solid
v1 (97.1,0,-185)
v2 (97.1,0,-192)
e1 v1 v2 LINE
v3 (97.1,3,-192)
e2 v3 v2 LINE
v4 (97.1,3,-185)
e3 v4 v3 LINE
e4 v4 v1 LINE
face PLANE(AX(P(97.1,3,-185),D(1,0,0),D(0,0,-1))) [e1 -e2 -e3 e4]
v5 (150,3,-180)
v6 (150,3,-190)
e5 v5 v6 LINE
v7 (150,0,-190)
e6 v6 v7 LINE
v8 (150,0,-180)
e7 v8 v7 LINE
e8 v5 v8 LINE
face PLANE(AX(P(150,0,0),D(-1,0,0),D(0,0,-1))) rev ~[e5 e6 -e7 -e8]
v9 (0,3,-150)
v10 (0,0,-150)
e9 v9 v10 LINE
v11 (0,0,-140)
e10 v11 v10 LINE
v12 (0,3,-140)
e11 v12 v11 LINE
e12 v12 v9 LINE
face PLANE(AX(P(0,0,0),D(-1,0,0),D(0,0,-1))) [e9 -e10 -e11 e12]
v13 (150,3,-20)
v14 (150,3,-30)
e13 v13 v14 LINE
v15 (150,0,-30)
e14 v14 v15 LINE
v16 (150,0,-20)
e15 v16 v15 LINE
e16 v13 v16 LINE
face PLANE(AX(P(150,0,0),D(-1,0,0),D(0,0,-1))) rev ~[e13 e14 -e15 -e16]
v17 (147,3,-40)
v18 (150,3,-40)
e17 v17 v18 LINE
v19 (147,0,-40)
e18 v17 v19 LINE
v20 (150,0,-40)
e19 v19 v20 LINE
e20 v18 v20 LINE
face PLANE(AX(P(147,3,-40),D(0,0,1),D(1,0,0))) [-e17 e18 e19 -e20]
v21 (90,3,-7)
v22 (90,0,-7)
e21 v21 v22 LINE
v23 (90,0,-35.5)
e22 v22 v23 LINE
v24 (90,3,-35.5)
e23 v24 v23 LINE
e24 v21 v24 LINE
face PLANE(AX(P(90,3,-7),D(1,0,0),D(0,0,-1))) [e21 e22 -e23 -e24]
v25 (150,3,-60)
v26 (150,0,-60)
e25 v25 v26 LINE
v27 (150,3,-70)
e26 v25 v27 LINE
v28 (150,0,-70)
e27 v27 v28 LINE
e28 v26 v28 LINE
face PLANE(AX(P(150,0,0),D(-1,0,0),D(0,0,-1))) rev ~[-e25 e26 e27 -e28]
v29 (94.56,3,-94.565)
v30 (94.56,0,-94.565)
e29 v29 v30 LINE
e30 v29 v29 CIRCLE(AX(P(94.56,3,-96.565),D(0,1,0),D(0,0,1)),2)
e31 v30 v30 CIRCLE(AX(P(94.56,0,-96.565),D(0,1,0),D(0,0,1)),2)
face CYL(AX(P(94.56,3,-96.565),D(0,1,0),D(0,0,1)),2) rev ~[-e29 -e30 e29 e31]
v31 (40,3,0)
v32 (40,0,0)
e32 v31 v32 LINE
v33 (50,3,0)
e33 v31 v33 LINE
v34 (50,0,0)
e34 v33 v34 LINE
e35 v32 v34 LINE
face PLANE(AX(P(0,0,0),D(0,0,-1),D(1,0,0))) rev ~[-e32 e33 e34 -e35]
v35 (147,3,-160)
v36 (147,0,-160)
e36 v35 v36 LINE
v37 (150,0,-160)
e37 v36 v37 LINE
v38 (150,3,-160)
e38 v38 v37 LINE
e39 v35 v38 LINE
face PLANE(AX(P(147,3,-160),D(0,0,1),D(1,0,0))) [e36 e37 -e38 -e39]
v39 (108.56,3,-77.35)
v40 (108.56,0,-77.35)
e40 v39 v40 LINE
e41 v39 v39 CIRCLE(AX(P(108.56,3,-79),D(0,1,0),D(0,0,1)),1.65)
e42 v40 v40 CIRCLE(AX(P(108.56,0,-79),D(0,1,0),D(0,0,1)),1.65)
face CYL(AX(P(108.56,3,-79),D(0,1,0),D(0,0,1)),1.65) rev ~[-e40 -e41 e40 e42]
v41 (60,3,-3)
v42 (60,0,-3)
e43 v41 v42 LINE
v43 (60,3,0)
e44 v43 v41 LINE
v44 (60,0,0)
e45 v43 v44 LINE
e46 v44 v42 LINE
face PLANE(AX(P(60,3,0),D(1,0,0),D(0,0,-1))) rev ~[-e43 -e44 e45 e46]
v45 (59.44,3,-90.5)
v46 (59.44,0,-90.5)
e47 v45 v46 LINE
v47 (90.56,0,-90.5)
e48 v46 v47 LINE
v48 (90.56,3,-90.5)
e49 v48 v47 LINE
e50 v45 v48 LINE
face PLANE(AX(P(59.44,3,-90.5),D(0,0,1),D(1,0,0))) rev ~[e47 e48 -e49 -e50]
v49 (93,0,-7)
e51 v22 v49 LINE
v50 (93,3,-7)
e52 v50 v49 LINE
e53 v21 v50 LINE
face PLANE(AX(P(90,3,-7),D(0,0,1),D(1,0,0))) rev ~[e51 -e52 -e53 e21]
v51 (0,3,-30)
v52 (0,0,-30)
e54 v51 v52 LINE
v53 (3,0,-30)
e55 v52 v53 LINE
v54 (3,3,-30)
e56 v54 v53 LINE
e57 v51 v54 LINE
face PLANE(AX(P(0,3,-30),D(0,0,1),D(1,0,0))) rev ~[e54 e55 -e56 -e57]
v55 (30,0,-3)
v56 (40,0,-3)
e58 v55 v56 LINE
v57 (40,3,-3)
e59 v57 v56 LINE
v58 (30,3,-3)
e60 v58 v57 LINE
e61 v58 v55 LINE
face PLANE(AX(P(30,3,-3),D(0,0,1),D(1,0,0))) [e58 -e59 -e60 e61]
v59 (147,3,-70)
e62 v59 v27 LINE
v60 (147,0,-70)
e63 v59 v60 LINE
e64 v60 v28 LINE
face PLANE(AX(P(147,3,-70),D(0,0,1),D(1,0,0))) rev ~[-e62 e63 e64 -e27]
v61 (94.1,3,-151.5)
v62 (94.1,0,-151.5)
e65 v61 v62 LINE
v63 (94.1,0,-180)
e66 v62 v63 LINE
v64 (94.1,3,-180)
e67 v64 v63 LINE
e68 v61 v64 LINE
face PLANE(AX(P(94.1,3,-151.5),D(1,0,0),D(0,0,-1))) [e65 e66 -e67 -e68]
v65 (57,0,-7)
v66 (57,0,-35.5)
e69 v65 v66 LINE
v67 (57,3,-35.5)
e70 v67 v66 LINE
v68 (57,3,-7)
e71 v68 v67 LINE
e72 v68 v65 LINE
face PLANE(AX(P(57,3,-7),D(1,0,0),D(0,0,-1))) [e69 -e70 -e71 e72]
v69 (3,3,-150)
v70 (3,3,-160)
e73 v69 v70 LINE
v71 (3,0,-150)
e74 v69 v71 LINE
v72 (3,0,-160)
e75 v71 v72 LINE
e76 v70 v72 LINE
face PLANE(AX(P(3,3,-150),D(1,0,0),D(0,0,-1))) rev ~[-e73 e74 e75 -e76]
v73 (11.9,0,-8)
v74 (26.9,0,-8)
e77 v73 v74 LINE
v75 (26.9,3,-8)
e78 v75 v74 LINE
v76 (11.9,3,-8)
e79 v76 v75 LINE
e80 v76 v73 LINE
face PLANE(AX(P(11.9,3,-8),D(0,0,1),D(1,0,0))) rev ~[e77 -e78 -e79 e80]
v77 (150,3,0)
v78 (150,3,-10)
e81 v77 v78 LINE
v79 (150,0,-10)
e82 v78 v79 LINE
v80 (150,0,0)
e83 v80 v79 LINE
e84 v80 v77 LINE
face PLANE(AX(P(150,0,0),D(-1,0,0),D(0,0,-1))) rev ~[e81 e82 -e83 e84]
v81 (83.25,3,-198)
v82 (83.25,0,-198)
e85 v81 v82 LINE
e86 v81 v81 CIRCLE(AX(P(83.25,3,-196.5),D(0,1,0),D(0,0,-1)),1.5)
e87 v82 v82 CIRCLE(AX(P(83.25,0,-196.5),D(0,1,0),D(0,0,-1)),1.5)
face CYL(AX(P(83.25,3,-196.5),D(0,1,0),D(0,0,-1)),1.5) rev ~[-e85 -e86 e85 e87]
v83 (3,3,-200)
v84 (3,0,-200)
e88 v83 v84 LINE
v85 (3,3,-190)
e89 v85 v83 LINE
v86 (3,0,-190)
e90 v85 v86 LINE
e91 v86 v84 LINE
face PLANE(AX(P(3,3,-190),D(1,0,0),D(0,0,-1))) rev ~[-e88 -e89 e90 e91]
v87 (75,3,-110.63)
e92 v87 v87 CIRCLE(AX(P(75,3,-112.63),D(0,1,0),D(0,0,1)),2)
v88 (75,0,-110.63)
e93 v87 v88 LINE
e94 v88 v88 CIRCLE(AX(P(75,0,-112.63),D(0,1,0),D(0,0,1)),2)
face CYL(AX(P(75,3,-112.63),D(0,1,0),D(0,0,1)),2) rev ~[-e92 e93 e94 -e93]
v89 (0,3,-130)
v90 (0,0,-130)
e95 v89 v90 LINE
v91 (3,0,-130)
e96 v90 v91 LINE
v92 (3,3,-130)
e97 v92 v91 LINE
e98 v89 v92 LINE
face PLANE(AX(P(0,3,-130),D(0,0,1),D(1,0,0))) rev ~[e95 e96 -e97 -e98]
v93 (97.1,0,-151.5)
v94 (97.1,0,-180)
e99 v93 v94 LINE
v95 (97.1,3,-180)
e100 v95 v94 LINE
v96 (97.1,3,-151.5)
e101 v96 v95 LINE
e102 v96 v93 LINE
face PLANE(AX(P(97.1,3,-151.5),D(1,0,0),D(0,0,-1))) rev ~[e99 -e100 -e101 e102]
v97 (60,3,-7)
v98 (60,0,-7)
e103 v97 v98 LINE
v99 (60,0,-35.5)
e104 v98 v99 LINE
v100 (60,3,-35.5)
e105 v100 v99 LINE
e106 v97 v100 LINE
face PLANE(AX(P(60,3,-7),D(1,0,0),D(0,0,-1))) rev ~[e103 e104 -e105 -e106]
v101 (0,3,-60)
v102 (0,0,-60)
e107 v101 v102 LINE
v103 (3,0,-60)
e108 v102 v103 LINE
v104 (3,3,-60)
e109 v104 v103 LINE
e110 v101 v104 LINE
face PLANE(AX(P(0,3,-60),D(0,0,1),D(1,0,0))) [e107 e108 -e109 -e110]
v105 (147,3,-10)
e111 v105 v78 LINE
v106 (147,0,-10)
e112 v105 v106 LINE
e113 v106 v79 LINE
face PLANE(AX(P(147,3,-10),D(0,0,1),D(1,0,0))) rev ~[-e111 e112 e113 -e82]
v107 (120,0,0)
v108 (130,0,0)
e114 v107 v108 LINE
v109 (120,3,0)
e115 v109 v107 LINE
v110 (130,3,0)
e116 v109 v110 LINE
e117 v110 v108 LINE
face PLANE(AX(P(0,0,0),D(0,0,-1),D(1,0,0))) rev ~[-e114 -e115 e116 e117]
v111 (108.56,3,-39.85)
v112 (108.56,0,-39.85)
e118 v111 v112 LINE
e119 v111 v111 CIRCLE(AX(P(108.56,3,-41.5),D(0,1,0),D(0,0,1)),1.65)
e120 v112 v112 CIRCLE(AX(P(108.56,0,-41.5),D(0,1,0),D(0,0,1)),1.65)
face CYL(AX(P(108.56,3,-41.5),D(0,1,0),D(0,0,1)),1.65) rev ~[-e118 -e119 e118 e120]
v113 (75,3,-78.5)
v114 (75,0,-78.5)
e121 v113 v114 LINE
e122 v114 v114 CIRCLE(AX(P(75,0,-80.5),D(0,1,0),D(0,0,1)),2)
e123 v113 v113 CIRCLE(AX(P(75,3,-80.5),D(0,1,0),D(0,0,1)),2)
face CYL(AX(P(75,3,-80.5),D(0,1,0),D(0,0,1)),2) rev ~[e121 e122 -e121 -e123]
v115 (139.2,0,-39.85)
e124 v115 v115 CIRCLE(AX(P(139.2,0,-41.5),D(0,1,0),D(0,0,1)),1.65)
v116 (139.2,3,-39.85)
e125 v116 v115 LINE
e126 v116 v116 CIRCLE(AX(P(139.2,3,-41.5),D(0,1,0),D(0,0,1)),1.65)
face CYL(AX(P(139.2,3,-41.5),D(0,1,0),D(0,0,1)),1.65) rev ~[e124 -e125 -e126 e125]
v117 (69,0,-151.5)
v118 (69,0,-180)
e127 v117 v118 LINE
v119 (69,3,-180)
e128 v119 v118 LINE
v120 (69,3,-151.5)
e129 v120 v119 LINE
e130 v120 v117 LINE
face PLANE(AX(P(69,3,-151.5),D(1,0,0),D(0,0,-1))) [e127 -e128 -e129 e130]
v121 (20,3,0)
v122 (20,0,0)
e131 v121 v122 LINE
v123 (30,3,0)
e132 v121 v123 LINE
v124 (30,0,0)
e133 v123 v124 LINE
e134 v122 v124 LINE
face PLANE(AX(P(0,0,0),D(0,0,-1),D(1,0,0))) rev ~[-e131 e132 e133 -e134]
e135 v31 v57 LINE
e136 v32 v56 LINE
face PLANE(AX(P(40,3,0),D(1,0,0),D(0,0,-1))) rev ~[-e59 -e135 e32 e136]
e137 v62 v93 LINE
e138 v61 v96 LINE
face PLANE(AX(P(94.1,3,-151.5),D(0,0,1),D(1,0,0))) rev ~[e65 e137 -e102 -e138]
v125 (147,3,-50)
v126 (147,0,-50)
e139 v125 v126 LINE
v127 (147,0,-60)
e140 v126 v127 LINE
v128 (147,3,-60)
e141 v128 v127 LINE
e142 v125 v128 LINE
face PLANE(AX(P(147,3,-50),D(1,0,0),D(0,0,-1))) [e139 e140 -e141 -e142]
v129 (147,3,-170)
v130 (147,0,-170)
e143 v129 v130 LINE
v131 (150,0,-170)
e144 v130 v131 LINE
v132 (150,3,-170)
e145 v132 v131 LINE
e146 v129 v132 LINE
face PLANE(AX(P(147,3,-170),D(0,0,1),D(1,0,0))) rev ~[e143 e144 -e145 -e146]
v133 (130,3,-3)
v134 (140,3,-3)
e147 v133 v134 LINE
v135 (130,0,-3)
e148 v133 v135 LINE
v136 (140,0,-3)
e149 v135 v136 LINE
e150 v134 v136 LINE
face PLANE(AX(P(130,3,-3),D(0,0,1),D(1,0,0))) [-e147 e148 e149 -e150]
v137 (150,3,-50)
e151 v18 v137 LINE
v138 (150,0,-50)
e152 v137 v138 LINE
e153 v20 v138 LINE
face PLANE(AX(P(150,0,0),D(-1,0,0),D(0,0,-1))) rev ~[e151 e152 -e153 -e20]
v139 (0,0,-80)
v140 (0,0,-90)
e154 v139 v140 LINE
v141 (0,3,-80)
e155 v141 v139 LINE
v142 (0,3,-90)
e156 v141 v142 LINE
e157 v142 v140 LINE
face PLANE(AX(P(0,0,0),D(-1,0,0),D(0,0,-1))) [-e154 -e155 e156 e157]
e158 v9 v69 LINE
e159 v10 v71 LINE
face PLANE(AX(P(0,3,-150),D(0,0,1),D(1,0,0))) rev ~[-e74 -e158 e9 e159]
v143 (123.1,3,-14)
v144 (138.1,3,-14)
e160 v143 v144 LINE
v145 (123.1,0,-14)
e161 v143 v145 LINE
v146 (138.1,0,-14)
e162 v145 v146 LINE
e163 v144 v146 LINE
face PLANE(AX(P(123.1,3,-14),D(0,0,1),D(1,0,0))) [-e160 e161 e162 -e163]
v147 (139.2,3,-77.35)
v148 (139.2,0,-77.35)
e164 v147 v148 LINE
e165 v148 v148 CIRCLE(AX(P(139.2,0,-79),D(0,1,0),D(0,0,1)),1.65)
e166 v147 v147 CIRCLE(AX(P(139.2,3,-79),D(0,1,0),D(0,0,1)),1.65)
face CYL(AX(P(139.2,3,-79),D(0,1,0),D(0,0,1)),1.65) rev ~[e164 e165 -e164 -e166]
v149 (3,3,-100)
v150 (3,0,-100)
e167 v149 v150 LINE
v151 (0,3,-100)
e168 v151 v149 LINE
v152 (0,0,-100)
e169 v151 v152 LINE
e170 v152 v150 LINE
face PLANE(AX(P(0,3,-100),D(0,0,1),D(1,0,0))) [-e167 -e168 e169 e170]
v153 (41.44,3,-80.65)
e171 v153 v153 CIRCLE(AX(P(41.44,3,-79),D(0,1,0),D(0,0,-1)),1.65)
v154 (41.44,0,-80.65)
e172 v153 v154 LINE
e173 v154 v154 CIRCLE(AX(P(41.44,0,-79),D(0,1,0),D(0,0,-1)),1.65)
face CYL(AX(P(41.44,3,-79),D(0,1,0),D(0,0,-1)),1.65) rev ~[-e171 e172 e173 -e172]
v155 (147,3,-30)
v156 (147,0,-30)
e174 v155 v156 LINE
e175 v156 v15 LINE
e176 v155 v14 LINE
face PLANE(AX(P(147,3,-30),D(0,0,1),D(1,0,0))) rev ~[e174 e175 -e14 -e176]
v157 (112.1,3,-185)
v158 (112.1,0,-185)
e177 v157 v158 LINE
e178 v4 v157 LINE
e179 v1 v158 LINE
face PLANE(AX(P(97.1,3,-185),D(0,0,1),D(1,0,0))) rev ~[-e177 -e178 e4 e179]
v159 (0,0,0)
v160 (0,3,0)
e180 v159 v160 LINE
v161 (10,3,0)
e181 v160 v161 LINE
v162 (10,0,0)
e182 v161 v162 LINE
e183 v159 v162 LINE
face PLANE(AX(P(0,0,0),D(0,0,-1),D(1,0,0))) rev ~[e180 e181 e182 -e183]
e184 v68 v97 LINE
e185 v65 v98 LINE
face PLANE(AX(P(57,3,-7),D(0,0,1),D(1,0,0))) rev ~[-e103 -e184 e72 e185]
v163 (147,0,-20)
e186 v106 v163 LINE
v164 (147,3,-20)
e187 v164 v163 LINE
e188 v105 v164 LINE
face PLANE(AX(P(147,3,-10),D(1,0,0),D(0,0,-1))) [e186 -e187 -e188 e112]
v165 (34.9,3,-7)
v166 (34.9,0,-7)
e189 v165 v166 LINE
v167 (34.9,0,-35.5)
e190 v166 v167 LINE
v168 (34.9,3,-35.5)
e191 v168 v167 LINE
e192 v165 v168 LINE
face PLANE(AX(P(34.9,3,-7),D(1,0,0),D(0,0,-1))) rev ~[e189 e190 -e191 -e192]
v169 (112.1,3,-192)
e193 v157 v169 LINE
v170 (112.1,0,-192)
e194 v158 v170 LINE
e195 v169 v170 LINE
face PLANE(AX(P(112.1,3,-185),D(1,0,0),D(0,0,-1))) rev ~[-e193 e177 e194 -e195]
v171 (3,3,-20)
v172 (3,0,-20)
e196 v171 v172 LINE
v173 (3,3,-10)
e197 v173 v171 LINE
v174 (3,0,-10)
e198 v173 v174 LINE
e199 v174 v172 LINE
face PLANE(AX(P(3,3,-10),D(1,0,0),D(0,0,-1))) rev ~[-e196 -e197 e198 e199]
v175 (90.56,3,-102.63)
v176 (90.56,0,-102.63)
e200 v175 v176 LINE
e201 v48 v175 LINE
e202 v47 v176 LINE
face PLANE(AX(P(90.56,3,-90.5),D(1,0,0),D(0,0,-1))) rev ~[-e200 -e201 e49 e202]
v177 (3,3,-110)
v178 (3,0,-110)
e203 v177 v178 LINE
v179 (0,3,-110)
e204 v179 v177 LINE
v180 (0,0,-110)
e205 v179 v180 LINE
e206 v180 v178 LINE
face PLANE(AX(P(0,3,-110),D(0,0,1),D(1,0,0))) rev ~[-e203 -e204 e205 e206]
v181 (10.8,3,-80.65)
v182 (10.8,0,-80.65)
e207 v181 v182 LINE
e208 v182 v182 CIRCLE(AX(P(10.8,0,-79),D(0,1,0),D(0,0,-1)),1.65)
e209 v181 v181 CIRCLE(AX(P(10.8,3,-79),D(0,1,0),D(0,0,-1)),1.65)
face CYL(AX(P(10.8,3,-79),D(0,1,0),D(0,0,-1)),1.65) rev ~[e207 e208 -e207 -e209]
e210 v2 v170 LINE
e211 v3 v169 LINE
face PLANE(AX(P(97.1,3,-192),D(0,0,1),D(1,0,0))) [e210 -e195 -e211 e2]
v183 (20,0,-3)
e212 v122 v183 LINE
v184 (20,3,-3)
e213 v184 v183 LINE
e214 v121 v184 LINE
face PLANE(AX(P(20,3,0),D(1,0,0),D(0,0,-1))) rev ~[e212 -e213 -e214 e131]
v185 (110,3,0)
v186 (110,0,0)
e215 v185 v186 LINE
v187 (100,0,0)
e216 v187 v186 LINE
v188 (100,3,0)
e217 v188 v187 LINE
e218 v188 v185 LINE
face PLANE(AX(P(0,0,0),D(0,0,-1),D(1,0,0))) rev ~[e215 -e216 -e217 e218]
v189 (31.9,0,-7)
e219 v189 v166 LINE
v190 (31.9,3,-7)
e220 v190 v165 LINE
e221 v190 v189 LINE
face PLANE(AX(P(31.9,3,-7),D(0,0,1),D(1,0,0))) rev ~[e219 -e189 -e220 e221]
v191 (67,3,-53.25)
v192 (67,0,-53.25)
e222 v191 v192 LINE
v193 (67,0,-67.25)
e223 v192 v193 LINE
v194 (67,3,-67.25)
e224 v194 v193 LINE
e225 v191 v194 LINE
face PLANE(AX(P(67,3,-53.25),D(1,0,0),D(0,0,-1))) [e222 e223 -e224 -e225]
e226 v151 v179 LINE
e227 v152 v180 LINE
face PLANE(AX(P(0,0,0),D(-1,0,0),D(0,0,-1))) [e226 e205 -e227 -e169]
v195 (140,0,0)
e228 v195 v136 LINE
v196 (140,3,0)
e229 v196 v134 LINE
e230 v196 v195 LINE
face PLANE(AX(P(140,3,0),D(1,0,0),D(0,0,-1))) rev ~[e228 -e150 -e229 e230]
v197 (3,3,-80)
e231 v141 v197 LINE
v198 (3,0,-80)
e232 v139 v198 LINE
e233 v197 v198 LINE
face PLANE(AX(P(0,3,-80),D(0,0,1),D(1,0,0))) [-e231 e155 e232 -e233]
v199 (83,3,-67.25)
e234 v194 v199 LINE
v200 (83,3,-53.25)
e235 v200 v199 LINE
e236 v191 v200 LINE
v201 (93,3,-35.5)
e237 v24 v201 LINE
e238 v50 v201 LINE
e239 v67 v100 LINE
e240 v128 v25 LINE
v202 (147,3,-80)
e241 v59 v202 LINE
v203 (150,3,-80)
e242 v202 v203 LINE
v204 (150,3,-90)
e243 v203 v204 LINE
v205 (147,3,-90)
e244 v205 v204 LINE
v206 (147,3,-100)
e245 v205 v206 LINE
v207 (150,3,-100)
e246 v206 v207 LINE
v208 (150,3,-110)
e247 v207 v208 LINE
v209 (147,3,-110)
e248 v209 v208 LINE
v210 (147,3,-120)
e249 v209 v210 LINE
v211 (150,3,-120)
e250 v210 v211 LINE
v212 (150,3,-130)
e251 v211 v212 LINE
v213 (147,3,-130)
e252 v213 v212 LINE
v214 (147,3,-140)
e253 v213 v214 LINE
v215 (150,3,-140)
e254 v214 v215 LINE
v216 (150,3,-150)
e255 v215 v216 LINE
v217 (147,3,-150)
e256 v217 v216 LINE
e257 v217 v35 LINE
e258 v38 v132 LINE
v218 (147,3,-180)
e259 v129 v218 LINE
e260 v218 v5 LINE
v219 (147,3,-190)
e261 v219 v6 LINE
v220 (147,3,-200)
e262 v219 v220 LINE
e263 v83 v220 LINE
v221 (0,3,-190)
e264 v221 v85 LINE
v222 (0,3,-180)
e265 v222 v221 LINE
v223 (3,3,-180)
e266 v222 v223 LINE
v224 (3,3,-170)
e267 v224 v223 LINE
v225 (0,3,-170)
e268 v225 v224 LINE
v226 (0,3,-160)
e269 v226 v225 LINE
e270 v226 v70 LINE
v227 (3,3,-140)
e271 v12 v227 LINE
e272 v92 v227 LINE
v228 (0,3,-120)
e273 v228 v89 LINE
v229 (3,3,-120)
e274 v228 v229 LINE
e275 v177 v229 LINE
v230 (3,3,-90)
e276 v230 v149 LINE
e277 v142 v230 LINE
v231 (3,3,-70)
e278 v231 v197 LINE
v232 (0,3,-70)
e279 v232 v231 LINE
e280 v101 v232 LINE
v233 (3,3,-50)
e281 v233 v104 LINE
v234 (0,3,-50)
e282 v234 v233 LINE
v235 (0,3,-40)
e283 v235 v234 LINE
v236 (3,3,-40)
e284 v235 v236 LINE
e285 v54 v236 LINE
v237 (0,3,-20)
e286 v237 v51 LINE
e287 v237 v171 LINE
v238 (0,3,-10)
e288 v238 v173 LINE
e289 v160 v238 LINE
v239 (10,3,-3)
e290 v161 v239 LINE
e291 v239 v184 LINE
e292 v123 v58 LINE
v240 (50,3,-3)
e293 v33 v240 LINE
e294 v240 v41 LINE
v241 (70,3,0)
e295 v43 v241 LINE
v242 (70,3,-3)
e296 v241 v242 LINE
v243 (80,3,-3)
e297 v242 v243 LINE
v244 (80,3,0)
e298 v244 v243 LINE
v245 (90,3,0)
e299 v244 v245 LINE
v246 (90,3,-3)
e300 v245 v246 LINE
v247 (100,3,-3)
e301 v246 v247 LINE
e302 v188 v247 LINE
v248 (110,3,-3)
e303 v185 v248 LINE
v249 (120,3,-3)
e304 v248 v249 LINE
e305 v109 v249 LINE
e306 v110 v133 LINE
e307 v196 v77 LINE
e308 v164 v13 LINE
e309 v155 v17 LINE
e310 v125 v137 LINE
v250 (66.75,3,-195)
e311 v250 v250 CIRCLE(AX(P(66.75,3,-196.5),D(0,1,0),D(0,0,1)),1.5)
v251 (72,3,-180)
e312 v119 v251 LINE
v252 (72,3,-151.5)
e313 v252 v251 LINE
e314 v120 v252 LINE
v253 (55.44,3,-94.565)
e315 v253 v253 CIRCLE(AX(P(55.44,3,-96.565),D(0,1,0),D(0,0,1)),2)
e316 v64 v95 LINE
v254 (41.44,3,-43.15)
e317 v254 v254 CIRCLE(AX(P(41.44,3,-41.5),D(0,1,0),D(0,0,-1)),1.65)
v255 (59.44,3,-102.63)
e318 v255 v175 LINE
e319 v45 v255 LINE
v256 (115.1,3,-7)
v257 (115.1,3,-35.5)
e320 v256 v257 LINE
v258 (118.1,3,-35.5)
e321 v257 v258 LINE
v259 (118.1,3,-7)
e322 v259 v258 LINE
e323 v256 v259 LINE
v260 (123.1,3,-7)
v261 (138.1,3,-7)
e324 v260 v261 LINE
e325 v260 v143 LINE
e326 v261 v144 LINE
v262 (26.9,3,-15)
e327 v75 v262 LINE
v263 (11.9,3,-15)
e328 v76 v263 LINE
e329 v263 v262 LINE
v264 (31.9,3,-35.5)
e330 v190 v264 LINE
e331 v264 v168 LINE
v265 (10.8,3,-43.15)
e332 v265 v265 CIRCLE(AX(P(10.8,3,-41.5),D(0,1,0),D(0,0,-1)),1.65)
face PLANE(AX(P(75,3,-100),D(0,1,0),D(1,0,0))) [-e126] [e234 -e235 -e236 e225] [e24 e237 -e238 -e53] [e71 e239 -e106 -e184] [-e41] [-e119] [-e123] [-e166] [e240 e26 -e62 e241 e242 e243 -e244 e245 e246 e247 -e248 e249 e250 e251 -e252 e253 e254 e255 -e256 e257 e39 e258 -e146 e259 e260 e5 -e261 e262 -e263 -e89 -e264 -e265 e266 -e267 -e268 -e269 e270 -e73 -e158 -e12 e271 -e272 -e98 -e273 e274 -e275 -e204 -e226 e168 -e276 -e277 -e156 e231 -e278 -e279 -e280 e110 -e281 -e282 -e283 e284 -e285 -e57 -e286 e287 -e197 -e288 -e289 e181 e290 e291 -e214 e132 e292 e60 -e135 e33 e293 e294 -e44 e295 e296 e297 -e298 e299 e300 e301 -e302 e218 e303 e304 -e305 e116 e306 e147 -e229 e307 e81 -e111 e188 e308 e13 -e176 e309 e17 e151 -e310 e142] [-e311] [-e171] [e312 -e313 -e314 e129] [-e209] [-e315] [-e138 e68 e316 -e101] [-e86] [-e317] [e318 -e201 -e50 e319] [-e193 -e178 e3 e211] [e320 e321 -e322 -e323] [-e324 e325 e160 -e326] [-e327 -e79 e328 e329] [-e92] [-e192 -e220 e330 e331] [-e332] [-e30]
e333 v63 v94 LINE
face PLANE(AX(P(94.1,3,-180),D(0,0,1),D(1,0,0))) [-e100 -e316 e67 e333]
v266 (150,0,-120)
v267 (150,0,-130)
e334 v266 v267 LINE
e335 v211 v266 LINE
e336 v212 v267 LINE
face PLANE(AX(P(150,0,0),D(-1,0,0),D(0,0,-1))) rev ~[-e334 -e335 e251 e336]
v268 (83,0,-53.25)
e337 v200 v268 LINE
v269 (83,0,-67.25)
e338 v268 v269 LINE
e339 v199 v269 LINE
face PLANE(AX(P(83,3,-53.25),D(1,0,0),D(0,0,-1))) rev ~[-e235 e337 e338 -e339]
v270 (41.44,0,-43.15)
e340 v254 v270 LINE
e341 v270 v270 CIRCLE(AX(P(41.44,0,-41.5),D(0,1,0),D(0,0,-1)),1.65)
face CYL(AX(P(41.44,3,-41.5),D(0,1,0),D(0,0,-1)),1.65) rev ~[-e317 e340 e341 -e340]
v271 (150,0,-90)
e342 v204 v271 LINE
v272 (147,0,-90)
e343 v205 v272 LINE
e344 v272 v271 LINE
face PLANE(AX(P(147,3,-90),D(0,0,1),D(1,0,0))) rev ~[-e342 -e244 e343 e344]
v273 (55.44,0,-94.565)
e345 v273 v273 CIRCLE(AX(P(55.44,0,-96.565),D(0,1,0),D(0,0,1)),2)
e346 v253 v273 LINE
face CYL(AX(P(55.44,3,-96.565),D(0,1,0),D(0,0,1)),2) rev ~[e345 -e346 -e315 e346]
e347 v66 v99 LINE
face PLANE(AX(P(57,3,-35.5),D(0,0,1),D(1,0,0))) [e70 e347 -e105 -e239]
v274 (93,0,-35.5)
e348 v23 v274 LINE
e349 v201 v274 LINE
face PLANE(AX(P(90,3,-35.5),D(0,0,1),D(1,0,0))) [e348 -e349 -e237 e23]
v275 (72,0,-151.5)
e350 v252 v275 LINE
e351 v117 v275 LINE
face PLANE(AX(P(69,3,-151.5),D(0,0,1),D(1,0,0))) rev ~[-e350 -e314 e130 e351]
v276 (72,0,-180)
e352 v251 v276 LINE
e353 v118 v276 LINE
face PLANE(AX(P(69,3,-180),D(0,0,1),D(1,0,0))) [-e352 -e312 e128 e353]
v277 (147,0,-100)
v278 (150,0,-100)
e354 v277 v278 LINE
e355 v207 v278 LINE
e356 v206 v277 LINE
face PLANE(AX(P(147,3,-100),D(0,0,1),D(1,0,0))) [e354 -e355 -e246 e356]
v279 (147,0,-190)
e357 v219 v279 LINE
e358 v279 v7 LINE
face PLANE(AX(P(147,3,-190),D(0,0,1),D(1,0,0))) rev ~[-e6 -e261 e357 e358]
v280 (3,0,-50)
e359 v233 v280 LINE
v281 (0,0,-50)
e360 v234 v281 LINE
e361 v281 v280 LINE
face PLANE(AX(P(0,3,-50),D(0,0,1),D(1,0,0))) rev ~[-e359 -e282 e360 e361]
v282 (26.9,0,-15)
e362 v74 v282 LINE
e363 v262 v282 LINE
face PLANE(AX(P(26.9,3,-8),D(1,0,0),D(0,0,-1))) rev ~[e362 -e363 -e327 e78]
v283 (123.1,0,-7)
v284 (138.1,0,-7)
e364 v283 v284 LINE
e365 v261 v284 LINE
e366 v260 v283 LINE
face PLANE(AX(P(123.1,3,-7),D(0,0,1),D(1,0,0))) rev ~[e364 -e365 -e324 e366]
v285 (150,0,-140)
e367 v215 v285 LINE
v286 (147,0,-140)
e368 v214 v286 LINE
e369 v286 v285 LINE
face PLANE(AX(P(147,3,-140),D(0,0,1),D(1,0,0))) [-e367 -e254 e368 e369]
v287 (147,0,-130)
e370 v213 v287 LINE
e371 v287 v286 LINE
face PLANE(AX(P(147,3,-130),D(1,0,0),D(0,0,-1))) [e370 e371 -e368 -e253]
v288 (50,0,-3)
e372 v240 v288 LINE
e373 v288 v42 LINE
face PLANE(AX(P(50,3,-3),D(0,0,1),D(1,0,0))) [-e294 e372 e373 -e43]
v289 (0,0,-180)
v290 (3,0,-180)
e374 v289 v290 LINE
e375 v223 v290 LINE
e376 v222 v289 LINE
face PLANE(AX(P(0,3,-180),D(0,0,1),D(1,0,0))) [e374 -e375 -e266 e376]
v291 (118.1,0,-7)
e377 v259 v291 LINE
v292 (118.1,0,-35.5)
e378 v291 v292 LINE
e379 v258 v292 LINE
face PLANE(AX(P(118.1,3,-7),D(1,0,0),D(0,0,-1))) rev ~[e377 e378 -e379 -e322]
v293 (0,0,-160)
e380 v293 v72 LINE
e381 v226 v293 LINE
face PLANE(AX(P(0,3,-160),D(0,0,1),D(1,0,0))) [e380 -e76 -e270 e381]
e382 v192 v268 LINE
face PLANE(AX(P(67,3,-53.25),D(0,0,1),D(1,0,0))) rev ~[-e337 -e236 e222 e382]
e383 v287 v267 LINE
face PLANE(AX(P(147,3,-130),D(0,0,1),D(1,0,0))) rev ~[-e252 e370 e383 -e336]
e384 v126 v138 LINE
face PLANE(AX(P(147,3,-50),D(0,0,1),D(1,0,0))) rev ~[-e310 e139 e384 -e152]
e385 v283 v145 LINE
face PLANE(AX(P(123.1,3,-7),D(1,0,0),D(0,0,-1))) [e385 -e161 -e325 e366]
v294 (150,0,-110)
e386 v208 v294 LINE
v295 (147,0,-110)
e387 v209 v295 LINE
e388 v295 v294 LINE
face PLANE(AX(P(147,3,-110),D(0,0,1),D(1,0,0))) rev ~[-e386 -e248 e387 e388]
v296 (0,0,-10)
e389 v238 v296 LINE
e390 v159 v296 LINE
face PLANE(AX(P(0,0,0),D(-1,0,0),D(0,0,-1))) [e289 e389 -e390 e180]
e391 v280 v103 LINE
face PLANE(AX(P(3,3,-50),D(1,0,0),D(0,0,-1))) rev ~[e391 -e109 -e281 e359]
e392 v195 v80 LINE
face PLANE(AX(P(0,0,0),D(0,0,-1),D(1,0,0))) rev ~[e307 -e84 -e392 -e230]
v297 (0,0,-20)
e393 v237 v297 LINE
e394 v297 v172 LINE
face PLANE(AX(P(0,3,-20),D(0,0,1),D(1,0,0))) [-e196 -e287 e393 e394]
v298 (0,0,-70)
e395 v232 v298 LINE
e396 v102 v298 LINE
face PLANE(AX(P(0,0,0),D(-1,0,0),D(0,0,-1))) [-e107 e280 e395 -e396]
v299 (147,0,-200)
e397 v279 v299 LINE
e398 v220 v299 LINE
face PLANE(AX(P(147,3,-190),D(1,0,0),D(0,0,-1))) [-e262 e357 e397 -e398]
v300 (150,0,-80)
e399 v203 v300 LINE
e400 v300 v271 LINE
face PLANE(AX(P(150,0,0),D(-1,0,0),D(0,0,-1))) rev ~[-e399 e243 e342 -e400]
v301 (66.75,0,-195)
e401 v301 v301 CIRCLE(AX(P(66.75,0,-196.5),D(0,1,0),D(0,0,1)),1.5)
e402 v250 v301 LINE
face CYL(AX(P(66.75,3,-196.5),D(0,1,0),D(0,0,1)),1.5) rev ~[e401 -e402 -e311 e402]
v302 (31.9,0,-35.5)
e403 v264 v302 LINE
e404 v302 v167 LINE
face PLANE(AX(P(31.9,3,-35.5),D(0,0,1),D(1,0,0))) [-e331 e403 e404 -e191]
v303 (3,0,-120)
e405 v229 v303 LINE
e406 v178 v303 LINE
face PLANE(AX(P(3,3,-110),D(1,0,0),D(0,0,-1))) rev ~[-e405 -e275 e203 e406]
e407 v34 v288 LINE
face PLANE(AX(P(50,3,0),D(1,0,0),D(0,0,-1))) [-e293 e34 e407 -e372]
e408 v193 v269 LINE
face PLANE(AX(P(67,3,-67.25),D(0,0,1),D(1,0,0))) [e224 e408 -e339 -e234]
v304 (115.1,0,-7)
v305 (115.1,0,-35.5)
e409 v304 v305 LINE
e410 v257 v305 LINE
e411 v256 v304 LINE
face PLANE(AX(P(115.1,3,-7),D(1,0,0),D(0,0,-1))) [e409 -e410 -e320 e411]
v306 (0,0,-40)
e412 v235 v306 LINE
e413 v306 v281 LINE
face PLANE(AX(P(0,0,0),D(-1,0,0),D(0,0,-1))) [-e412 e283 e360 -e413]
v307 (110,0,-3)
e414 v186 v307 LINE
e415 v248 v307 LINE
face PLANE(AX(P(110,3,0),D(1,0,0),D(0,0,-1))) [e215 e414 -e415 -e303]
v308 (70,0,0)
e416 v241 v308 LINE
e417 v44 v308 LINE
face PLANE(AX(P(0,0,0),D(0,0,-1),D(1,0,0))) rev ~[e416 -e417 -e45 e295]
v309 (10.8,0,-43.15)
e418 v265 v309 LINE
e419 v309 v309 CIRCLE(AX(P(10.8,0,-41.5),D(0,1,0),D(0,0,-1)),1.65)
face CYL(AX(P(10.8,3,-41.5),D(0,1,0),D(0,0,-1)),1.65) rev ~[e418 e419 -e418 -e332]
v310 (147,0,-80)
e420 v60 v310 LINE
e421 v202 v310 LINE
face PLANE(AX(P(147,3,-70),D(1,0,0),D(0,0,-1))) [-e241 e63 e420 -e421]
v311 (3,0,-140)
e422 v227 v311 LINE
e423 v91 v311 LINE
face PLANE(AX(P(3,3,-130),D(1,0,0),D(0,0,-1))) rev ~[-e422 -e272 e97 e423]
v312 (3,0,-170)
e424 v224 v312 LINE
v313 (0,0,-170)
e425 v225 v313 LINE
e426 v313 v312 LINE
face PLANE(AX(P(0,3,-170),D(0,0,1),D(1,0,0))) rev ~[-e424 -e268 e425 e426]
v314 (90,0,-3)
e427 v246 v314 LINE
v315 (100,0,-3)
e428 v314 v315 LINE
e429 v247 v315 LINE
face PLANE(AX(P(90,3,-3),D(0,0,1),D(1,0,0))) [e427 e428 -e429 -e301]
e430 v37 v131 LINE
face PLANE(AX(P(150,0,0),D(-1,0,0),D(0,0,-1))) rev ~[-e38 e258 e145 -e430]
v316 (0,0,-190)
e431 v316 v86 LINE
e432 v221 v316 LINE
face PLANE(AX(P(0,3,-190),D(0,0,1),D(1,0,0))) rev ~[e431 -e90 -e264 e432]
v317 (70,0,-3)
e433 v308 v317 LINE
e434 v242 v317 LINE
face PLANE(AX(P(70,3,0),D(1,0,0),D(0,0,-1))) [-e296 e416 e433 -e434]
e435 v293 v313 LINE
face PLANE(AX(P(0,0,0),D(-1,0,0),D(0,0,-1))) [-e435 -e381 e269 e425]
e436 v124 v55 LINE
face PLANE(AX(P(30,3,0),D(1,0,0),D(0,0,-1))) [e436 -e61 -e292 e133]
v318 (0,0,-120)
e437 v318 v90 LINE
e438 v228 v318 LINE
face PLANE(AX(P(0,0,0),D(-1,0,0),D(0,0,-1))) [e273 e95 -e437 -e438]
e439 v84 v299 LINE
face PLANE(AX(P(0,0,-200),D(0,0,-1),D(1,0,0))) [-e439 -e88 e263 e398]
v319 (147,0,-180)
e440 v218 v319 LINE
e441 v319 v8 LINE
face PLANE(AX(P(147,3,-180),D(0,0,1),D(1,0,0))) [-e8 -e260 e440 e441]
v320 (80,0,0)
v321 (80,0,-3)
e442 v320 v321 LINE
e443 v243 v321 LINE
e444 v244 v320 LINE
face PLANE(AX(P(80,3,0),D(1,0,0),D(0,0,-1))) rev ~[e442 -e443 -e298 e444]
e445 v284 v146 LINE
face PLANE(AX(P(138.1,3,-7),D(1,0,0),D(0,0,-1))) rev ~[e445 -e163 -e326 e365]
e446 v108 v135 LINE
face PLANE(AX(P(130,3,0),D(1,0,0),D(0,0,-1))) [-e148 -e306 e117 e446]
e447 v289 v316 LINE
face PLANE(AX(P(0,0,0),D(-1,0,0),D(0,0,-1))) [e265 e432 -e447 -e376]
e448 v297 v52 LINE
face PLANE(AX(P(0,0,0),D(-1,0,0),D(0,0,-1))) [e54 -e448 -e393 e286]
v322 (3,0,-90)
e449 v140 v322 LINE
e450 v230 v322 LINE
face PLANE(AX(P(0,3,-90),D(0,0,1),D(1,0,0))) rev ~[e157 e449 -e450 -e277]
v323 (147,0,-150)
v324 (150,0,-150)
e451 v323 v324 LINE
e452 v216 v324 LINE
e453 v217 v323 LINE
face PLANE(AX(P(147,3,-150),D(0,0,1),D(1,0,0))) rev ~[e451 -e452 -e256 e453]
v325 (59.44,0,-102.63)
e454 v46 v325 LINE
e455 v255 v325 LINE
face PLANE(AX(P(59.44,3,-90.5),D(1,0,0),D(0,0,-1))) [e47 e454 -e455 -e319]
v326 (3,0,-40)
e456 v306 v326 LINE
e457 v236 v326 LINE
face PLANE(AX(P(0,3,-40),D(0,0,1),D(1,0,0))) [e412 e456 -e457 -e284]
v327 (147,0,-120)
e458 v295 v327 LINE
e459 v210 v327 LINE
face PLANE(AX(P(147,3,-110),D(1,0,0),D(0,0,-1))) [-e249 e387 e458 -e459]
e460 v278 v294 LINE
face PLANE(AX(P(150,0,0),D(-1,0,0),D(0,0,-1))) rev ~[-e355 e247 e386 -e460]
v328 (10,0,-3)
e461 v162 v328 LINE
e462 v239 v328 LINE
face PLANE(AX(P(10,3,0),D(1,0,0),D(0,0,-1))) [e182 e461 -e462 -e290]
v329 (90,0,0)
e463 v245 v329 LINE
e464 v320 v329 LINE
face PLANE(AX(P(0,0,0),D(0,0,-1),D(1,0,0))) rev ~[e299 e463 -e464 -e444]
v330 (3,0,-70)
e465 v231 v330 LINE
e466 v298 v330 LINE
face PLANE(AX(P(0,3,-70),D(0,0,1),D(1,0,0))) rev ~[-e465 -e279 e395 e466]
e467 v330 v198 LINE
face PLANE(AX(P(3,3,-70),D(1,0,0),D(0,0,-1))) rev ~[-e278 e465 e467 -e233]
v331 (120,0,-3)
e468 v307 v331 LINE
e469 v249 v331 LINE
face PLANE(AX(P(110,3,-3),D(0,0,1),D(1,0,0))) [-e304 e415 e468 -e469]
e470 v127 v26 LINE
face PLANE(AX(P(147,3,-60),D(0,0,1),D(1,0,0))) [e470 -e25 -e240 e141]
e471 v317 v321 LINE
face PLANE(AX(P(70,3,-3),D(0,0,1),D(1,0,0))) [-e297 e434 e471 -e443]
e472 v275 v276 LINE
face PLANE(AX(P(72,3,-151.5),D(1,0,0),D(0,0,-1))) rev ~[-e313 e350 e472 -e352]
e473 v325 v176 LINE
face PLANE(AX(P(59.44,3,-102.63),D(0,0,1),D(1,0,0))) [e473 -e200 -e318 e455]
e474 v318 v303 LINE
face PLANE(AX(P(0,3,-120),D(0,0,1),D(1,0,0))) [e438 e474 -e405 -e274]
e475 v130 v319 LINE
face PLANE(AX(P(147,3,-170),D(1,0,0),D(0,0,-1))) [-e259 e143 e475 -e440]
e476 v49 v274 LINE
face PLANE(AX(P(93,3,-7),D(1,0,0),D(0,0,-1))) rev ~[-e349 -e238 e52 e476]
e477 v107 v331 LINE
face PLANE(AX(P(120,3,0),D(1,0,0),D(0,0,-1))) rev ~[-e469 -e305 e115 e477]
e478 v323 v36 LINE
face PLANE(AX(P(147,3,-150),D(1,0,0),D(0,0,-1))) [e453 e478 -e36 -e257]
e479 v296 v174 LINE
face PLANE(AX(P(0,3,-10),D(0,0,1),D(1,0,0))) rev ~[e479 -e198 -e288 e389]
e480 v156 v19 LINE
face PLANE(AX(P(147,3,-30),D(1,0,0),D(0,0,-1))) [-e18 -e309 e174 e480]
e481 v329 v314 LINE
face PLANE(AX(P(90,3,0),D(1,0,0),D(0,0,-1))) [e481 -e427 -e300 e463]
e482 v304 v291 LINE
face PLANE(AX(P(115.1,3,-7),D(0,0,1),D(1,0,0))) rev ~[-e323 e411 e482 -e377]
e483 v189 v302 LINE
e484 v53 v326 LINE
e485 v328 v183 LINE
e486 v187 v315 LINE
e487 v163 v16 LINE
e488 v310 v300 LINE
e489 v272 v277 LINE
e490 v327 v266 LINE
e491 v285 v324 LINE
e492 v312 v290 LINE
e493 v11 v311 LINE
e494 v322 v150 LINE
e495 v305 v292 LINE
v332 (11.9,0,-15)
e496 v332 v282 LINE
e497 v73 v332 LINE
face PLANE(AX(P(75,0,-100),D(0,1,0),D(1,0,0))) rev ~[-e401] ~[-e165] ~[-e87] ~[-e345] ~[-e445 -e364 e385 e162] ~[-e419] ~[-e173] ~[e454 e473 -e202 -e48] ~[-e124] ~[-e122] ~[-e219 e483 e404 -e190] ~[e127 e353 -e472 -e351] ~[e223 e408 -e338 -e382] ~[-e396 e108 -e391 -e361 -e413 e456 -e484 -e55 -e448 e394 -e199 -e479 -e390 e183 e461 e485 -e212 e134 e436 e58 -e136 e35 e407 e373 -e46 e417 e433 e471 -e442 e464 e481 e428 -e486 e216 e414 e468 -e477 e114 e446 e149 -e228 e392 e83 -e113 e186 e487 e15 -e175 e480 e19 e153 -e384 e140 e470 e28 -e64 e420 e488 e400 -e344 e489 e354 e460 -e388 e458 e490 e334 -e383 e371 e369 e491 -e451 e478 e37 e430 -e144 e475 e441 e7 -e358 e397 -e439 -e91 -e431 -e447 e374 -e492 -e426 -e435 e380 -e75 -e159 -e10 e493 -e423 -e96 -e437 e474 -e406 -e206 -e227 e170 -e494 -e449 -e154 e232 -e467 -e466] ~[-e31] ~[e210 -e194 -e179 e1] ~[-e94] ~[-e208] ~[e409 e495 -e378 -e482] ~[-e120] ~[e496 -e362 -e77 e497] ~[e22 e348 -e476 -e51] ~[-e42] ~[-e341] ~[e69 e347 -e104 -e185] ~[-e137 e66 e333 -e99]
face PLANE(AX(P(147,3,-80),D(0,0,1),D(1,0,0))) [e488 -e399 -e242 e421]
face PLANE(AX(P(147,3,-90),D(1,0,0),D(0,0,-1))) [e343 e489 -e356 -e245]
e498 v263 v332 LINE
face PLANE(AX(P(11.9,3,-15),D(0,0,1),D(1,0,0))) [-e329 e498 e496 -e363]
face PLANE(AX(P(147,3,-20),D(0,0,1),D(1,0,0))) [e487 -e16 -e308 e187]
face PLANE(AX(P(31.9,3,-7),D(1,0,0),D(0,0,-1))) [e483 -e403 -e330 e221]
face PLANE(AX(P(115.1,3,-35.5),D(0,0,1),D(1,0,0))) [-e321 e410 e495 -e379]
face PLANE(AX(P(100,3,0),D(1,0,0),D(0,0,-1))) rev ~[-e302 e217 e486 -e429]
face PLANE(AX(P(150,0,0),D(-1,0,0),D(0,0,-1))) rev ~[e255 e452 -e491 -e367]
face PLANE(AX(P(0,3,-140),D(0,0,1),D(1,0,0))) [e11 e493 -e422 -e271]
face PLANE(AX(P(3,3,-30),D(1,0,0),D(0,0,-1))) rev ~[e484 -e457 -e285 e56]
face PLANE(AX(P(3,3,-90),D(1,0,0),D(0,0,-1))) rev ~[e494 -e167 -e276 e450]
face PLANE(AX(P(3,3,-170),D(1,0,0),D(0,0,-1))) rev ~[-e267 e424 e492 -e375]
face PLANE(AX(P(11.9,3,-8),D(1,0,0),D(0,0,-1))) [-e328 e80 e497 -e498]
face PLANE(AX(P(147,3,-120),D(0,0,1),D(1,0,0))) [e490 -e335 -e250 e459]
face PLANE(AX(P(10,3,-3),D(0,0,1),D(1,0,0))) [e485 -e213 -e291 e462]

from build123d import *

# Parameters (mm, degrees)
MDFESB_W          = 150
MDFESB_H          = 200
MDF_DEPTH         = 3
LDRESB_W          = 3
LDRESB_H          = 28.5
LDRESB_W_2        = 15
LDRESB_H_2        = 7
LDRBURACOS_DEPTH  = 3
CORESB_R          = 2
CORESB_W          = 31.12
CORESB_H          = 12.13
CORBURACOS_DEPTH  = 3
ENCAIXESESB_W     = 10
ENCAIXESESB_H     = 3
ENCAIXESESB_W_2   = 3
ENCAIXESESB_H_2   = 10
ENCAIXE_DEPTH     = 3
ACOPLMOTORESB_R   = 1.65
ACOPLMOTORESB_W   = 16
ACOPLMOTORESB_H   = 14
ACOPLMOTOR_DEPTH  = 3
CASTERFUROSESB_R  = 1.5
CASTERFUROS_DEPTH = 3


with BuildPart() as part:
    # mdfEsb → mdf (new body)
    with BuildSketch(Plane(origin=(0, 0, 0), x_dir=(1, 0, 0), z_dir=(0, 1, 0))):
        with Locations((75, 100)):
            Rectangle(MDFESB_W, MDFESB_H)
    extrude(amount=MDF_DEPTH)

    # ldrEsb → ldrBuracos (cut)
    with BuildSketch(Plane(origin=(0, 3, 0), x_dir=(1, 0, 0), z_dir=(0, 1, 0))):
        with Locations((33.4, 21.25)):
            Rectangle(LDRESB_W, LDRESB_H)
        with Locations((58.5, 21.25)):
            Rectangle(LDRESB_W, LDRESB_H)
        with Locations((91.5, 21.25)):
            Rectangle(LDRESB_W, LDRESB_H)
        with Locations((116.6, 21.25)):
            Rectangle(LDRESB_W, LDRESB_H)
        with Locations((70.5, 165.75)):
            Rectangle(LDRESB_W, LDRESB_H)
        with Locations((95.6, 165.75)):
            Rectangle(LDRESB_W, LDRESB_H)
        with Locations((130.6, 10.5)):
            Rectangle(LDRESB_W_2, LDRESB_H_2)
        with Locations((19.4, 11.5)):
            Rectangle(LDRESB_W_2, LDRESB_H_2)
        with Locations((104.6, 188.5)):
            Rectangle(LDRESB_W_2, LDRESB_H_2)
    extrude(amount=-LDRBURACOS_DEPTH, mode=Mode.SUBTRACT)

    # corEsb → corBuracos (cut)
    with BuildSketch(Plane(origin=(0, 3, 0), x_dir=(1, 0, 0), z_dir=(0, 1, 0))):
        with Locations(Location((75, 112.63, 0), (0, 0, 270))):
            Circle(CORESB_R)
        with Locations(Location((75, 80.5, 0), (0, 0, 270))):
            Circle(CORESB_R)
        with Locations(Location((94.56, 96.565, 0), (0, 0, 270))):
            Circle(CORESB_R)
        with Locations(Location((55.44, 96.565, 0), (0, 0, 270))):
            Circle(CORESB_R)
        with Locations((75, 96.565)):
            Rectangle(CORESB_W, CORESB_H)
    extrude(amount=-CORBURACOS_DEPTH, mode=Mode.SUBTRACT)

    # EncaixesEsb → Encaixe (cut)
    with BuildSketch(Plane(origin=(0, 3, 0), x_dir=(1, 0, 0), z_dir=(0, 1, 0))):
        with Locations((15, 1.5)):
            Rectangle(ENCAIXESESB_W, ENCAIXESESB_H)
        with Locations((1.5, 35)):
            Rectangle(ENCAIXESESB_W_2, ENCAIXESESB_H_2)
        with Locations((1.5, 15)):
            Rectangle(ENCAIXESESB_W_2, ENCAIXESESB_H_2)
        with Locations((1.5, 55)):
            Rectangle(ENCAIXESESB_W_2, ENCAIXESESB_H_2)
        with Locations((1.5, 75)):
            Rectangle(ENCAIXESESB_W_2, ENCAIXESESB_H_2)
        with Locations((1.5, 95)):
            Rectangle(ENCAIXESESB_W_2, ENCAIXESESB_H_2)
        with Locations((1.5, 115)):
            Rectangle(ENCAIXESESB_W_2, ENCAIXESESB_H_2)
        with Locations((1.5, 135)):
            Rectangle(ENCAIXESESB_W_2, ENCAIXESESB_H_2)
        with Locations((1.5, 155)):
            Rectangle(ENCAIXESESB_W_2, ENCAIXESESB_H_2)
        with Locations((1.5, 175)):
            Rectangle(ENCAIXESESB_W_2, ENCAIXESESB_H_2)
        with Locations((1.5, 195)):
            Rectangle(ENCAIXESESB_W_2, ENCAIXESESB_H_2)
        with Locations((35, 1.5)):
            Rectangle(ENCAIXESESB_W, ENCAIXESESB_H)
        with Locations((55, 1.5)):
            Rectangle(ENCAIXESESB_W, ENCAIXESESB_H)
        with Locations((75, 1.5)):
            Rectangle(ENCAIXESESB_W, ENCAIXESESB_H)
        with Locations((95, 1.5)):
            Rectangle(ENCAIXESESB_W, ENCAIXESESB_H)
        with Locations((115, 1.5)):
            Rectangle(ENCAIXESESB_W, ENCAIXESESB_H)
        with Locations((135, 1.5)):
            Rectangle(ENCAIXESESB_W, ENCAIXESESB_H)
        with Locations((148.5, 35)):
            Rectangle(ENCAIXESESB_W_2, ENCAIXESESB_H_2)
        with Locations((148.5, 15)):
            Rectangle(ENCAIXESESB_W_2, ENCAIXESESB_H_2)
        with Locations((148.5, 55)):
            Rectangle(ENCAIXESESB_W_2, ENCAIXESESB_H_2)
        with Locations((148.5, 75)):
            Rectangle(ENCAIXESESB_W_2, ENCAIXESESB_H_2)
        with Locations((148.5, 95)):
            Rectangle(ENCAIXESESB_W_2, ENCAIXESESB_H_2)
        with Locations((148.5, 115)):
            Rectangle(ENCAIXESESB_W_2, ENCAIXESESB_H_2)
        with Locations((148.5, 135)):
            Rectangle(ENCAIXESESB_W_2, ENCAIXESESB_H_2)
        with Locations((148.5, 155)):
            Rectangle(ENCAIXESESB_W_2, ENCAIXESESB_H_2)
        with Locations((148.5, 175)):
            Rectangle(ENCAIXESESB_W_2, ENCAIXESESB_H_2)
        with Locations((148.5, 195)):
            Rectangle(ENCAIXESESB_W_2, ENCAIXESESB_H_2)
    extrude(amount=-ENCAIXE_DEPTH, mode=Mode.SUBTRACT)

    # AcoplMotorEsb → AcoplMotor (cut)
    with BuildSketch(Plane(origin=(0, 3, 0), x_dir=(1, 0, 0), z_dir=(0, 1, 0))):
        with Locations(Location((108.56, 41.5, 0), (0, 0, 270))):
            Circle(ACOPLMOTORESB_R)
        with Locations(Location((108.56, 79, 0), (0, 0, 270))):
            Circle(ACOPLMOTORESB_R)
        with Locations(Location((139.2, 41.5, 0), (0, 0, 270))):
            Circle(ACOPLMOTORESB_R)
        with Locations(Location((139.2, 79, 0), (0, 0, 270))):
            Circle(ACOPLMOTORESB_R)
        with Locations(Location((10.8, 79, 0), (0, 0, 90))):
            Circle(ACOPLMOTORESB_R)
        with Locations(Location((10.8, 41.5, 0), (0, 0, 90))):
            Circle(ACOPLMOTORESB_R)
        with Locations(Location((41.44, 79, 0), (0, 0, 90))):
            Circle(ACOPLMOTORESB_R)
        with Locations(Location((41.44, 41.5, 0), (0, 0, 90))):
            Circle(ACOPLMOTORESB_R)
        with Locations((75, 60.25)):
            Rectangle(ACOPLMOTORESB_W, ACOPLMOTORESB_H)
    extrude(amount=-ACOPLMOTOR_DEPTH, mode=Mode.SUBTRACT)

    # CasterFurosEsb → CasterFuros (cut)
    with BuildSketch(Plane(origin=(0, 3, 0), x_dir=(1, 0, 0), z_dir=(0, 1, 0))):
        with Locations(Location((66.75, 196.5, 0), (0, 0, 270))):
            Circle(CASTERFUROSESB_R)
        with Locations(Location((83.25, 196.5, 0), (0, 0, 90))):
            Circle(CASTERFUROSESB_R)
    extrude(amount=-CASTERFUROS_DEPTH, mode=Mode.SUBTRACT)


solid = part.part
